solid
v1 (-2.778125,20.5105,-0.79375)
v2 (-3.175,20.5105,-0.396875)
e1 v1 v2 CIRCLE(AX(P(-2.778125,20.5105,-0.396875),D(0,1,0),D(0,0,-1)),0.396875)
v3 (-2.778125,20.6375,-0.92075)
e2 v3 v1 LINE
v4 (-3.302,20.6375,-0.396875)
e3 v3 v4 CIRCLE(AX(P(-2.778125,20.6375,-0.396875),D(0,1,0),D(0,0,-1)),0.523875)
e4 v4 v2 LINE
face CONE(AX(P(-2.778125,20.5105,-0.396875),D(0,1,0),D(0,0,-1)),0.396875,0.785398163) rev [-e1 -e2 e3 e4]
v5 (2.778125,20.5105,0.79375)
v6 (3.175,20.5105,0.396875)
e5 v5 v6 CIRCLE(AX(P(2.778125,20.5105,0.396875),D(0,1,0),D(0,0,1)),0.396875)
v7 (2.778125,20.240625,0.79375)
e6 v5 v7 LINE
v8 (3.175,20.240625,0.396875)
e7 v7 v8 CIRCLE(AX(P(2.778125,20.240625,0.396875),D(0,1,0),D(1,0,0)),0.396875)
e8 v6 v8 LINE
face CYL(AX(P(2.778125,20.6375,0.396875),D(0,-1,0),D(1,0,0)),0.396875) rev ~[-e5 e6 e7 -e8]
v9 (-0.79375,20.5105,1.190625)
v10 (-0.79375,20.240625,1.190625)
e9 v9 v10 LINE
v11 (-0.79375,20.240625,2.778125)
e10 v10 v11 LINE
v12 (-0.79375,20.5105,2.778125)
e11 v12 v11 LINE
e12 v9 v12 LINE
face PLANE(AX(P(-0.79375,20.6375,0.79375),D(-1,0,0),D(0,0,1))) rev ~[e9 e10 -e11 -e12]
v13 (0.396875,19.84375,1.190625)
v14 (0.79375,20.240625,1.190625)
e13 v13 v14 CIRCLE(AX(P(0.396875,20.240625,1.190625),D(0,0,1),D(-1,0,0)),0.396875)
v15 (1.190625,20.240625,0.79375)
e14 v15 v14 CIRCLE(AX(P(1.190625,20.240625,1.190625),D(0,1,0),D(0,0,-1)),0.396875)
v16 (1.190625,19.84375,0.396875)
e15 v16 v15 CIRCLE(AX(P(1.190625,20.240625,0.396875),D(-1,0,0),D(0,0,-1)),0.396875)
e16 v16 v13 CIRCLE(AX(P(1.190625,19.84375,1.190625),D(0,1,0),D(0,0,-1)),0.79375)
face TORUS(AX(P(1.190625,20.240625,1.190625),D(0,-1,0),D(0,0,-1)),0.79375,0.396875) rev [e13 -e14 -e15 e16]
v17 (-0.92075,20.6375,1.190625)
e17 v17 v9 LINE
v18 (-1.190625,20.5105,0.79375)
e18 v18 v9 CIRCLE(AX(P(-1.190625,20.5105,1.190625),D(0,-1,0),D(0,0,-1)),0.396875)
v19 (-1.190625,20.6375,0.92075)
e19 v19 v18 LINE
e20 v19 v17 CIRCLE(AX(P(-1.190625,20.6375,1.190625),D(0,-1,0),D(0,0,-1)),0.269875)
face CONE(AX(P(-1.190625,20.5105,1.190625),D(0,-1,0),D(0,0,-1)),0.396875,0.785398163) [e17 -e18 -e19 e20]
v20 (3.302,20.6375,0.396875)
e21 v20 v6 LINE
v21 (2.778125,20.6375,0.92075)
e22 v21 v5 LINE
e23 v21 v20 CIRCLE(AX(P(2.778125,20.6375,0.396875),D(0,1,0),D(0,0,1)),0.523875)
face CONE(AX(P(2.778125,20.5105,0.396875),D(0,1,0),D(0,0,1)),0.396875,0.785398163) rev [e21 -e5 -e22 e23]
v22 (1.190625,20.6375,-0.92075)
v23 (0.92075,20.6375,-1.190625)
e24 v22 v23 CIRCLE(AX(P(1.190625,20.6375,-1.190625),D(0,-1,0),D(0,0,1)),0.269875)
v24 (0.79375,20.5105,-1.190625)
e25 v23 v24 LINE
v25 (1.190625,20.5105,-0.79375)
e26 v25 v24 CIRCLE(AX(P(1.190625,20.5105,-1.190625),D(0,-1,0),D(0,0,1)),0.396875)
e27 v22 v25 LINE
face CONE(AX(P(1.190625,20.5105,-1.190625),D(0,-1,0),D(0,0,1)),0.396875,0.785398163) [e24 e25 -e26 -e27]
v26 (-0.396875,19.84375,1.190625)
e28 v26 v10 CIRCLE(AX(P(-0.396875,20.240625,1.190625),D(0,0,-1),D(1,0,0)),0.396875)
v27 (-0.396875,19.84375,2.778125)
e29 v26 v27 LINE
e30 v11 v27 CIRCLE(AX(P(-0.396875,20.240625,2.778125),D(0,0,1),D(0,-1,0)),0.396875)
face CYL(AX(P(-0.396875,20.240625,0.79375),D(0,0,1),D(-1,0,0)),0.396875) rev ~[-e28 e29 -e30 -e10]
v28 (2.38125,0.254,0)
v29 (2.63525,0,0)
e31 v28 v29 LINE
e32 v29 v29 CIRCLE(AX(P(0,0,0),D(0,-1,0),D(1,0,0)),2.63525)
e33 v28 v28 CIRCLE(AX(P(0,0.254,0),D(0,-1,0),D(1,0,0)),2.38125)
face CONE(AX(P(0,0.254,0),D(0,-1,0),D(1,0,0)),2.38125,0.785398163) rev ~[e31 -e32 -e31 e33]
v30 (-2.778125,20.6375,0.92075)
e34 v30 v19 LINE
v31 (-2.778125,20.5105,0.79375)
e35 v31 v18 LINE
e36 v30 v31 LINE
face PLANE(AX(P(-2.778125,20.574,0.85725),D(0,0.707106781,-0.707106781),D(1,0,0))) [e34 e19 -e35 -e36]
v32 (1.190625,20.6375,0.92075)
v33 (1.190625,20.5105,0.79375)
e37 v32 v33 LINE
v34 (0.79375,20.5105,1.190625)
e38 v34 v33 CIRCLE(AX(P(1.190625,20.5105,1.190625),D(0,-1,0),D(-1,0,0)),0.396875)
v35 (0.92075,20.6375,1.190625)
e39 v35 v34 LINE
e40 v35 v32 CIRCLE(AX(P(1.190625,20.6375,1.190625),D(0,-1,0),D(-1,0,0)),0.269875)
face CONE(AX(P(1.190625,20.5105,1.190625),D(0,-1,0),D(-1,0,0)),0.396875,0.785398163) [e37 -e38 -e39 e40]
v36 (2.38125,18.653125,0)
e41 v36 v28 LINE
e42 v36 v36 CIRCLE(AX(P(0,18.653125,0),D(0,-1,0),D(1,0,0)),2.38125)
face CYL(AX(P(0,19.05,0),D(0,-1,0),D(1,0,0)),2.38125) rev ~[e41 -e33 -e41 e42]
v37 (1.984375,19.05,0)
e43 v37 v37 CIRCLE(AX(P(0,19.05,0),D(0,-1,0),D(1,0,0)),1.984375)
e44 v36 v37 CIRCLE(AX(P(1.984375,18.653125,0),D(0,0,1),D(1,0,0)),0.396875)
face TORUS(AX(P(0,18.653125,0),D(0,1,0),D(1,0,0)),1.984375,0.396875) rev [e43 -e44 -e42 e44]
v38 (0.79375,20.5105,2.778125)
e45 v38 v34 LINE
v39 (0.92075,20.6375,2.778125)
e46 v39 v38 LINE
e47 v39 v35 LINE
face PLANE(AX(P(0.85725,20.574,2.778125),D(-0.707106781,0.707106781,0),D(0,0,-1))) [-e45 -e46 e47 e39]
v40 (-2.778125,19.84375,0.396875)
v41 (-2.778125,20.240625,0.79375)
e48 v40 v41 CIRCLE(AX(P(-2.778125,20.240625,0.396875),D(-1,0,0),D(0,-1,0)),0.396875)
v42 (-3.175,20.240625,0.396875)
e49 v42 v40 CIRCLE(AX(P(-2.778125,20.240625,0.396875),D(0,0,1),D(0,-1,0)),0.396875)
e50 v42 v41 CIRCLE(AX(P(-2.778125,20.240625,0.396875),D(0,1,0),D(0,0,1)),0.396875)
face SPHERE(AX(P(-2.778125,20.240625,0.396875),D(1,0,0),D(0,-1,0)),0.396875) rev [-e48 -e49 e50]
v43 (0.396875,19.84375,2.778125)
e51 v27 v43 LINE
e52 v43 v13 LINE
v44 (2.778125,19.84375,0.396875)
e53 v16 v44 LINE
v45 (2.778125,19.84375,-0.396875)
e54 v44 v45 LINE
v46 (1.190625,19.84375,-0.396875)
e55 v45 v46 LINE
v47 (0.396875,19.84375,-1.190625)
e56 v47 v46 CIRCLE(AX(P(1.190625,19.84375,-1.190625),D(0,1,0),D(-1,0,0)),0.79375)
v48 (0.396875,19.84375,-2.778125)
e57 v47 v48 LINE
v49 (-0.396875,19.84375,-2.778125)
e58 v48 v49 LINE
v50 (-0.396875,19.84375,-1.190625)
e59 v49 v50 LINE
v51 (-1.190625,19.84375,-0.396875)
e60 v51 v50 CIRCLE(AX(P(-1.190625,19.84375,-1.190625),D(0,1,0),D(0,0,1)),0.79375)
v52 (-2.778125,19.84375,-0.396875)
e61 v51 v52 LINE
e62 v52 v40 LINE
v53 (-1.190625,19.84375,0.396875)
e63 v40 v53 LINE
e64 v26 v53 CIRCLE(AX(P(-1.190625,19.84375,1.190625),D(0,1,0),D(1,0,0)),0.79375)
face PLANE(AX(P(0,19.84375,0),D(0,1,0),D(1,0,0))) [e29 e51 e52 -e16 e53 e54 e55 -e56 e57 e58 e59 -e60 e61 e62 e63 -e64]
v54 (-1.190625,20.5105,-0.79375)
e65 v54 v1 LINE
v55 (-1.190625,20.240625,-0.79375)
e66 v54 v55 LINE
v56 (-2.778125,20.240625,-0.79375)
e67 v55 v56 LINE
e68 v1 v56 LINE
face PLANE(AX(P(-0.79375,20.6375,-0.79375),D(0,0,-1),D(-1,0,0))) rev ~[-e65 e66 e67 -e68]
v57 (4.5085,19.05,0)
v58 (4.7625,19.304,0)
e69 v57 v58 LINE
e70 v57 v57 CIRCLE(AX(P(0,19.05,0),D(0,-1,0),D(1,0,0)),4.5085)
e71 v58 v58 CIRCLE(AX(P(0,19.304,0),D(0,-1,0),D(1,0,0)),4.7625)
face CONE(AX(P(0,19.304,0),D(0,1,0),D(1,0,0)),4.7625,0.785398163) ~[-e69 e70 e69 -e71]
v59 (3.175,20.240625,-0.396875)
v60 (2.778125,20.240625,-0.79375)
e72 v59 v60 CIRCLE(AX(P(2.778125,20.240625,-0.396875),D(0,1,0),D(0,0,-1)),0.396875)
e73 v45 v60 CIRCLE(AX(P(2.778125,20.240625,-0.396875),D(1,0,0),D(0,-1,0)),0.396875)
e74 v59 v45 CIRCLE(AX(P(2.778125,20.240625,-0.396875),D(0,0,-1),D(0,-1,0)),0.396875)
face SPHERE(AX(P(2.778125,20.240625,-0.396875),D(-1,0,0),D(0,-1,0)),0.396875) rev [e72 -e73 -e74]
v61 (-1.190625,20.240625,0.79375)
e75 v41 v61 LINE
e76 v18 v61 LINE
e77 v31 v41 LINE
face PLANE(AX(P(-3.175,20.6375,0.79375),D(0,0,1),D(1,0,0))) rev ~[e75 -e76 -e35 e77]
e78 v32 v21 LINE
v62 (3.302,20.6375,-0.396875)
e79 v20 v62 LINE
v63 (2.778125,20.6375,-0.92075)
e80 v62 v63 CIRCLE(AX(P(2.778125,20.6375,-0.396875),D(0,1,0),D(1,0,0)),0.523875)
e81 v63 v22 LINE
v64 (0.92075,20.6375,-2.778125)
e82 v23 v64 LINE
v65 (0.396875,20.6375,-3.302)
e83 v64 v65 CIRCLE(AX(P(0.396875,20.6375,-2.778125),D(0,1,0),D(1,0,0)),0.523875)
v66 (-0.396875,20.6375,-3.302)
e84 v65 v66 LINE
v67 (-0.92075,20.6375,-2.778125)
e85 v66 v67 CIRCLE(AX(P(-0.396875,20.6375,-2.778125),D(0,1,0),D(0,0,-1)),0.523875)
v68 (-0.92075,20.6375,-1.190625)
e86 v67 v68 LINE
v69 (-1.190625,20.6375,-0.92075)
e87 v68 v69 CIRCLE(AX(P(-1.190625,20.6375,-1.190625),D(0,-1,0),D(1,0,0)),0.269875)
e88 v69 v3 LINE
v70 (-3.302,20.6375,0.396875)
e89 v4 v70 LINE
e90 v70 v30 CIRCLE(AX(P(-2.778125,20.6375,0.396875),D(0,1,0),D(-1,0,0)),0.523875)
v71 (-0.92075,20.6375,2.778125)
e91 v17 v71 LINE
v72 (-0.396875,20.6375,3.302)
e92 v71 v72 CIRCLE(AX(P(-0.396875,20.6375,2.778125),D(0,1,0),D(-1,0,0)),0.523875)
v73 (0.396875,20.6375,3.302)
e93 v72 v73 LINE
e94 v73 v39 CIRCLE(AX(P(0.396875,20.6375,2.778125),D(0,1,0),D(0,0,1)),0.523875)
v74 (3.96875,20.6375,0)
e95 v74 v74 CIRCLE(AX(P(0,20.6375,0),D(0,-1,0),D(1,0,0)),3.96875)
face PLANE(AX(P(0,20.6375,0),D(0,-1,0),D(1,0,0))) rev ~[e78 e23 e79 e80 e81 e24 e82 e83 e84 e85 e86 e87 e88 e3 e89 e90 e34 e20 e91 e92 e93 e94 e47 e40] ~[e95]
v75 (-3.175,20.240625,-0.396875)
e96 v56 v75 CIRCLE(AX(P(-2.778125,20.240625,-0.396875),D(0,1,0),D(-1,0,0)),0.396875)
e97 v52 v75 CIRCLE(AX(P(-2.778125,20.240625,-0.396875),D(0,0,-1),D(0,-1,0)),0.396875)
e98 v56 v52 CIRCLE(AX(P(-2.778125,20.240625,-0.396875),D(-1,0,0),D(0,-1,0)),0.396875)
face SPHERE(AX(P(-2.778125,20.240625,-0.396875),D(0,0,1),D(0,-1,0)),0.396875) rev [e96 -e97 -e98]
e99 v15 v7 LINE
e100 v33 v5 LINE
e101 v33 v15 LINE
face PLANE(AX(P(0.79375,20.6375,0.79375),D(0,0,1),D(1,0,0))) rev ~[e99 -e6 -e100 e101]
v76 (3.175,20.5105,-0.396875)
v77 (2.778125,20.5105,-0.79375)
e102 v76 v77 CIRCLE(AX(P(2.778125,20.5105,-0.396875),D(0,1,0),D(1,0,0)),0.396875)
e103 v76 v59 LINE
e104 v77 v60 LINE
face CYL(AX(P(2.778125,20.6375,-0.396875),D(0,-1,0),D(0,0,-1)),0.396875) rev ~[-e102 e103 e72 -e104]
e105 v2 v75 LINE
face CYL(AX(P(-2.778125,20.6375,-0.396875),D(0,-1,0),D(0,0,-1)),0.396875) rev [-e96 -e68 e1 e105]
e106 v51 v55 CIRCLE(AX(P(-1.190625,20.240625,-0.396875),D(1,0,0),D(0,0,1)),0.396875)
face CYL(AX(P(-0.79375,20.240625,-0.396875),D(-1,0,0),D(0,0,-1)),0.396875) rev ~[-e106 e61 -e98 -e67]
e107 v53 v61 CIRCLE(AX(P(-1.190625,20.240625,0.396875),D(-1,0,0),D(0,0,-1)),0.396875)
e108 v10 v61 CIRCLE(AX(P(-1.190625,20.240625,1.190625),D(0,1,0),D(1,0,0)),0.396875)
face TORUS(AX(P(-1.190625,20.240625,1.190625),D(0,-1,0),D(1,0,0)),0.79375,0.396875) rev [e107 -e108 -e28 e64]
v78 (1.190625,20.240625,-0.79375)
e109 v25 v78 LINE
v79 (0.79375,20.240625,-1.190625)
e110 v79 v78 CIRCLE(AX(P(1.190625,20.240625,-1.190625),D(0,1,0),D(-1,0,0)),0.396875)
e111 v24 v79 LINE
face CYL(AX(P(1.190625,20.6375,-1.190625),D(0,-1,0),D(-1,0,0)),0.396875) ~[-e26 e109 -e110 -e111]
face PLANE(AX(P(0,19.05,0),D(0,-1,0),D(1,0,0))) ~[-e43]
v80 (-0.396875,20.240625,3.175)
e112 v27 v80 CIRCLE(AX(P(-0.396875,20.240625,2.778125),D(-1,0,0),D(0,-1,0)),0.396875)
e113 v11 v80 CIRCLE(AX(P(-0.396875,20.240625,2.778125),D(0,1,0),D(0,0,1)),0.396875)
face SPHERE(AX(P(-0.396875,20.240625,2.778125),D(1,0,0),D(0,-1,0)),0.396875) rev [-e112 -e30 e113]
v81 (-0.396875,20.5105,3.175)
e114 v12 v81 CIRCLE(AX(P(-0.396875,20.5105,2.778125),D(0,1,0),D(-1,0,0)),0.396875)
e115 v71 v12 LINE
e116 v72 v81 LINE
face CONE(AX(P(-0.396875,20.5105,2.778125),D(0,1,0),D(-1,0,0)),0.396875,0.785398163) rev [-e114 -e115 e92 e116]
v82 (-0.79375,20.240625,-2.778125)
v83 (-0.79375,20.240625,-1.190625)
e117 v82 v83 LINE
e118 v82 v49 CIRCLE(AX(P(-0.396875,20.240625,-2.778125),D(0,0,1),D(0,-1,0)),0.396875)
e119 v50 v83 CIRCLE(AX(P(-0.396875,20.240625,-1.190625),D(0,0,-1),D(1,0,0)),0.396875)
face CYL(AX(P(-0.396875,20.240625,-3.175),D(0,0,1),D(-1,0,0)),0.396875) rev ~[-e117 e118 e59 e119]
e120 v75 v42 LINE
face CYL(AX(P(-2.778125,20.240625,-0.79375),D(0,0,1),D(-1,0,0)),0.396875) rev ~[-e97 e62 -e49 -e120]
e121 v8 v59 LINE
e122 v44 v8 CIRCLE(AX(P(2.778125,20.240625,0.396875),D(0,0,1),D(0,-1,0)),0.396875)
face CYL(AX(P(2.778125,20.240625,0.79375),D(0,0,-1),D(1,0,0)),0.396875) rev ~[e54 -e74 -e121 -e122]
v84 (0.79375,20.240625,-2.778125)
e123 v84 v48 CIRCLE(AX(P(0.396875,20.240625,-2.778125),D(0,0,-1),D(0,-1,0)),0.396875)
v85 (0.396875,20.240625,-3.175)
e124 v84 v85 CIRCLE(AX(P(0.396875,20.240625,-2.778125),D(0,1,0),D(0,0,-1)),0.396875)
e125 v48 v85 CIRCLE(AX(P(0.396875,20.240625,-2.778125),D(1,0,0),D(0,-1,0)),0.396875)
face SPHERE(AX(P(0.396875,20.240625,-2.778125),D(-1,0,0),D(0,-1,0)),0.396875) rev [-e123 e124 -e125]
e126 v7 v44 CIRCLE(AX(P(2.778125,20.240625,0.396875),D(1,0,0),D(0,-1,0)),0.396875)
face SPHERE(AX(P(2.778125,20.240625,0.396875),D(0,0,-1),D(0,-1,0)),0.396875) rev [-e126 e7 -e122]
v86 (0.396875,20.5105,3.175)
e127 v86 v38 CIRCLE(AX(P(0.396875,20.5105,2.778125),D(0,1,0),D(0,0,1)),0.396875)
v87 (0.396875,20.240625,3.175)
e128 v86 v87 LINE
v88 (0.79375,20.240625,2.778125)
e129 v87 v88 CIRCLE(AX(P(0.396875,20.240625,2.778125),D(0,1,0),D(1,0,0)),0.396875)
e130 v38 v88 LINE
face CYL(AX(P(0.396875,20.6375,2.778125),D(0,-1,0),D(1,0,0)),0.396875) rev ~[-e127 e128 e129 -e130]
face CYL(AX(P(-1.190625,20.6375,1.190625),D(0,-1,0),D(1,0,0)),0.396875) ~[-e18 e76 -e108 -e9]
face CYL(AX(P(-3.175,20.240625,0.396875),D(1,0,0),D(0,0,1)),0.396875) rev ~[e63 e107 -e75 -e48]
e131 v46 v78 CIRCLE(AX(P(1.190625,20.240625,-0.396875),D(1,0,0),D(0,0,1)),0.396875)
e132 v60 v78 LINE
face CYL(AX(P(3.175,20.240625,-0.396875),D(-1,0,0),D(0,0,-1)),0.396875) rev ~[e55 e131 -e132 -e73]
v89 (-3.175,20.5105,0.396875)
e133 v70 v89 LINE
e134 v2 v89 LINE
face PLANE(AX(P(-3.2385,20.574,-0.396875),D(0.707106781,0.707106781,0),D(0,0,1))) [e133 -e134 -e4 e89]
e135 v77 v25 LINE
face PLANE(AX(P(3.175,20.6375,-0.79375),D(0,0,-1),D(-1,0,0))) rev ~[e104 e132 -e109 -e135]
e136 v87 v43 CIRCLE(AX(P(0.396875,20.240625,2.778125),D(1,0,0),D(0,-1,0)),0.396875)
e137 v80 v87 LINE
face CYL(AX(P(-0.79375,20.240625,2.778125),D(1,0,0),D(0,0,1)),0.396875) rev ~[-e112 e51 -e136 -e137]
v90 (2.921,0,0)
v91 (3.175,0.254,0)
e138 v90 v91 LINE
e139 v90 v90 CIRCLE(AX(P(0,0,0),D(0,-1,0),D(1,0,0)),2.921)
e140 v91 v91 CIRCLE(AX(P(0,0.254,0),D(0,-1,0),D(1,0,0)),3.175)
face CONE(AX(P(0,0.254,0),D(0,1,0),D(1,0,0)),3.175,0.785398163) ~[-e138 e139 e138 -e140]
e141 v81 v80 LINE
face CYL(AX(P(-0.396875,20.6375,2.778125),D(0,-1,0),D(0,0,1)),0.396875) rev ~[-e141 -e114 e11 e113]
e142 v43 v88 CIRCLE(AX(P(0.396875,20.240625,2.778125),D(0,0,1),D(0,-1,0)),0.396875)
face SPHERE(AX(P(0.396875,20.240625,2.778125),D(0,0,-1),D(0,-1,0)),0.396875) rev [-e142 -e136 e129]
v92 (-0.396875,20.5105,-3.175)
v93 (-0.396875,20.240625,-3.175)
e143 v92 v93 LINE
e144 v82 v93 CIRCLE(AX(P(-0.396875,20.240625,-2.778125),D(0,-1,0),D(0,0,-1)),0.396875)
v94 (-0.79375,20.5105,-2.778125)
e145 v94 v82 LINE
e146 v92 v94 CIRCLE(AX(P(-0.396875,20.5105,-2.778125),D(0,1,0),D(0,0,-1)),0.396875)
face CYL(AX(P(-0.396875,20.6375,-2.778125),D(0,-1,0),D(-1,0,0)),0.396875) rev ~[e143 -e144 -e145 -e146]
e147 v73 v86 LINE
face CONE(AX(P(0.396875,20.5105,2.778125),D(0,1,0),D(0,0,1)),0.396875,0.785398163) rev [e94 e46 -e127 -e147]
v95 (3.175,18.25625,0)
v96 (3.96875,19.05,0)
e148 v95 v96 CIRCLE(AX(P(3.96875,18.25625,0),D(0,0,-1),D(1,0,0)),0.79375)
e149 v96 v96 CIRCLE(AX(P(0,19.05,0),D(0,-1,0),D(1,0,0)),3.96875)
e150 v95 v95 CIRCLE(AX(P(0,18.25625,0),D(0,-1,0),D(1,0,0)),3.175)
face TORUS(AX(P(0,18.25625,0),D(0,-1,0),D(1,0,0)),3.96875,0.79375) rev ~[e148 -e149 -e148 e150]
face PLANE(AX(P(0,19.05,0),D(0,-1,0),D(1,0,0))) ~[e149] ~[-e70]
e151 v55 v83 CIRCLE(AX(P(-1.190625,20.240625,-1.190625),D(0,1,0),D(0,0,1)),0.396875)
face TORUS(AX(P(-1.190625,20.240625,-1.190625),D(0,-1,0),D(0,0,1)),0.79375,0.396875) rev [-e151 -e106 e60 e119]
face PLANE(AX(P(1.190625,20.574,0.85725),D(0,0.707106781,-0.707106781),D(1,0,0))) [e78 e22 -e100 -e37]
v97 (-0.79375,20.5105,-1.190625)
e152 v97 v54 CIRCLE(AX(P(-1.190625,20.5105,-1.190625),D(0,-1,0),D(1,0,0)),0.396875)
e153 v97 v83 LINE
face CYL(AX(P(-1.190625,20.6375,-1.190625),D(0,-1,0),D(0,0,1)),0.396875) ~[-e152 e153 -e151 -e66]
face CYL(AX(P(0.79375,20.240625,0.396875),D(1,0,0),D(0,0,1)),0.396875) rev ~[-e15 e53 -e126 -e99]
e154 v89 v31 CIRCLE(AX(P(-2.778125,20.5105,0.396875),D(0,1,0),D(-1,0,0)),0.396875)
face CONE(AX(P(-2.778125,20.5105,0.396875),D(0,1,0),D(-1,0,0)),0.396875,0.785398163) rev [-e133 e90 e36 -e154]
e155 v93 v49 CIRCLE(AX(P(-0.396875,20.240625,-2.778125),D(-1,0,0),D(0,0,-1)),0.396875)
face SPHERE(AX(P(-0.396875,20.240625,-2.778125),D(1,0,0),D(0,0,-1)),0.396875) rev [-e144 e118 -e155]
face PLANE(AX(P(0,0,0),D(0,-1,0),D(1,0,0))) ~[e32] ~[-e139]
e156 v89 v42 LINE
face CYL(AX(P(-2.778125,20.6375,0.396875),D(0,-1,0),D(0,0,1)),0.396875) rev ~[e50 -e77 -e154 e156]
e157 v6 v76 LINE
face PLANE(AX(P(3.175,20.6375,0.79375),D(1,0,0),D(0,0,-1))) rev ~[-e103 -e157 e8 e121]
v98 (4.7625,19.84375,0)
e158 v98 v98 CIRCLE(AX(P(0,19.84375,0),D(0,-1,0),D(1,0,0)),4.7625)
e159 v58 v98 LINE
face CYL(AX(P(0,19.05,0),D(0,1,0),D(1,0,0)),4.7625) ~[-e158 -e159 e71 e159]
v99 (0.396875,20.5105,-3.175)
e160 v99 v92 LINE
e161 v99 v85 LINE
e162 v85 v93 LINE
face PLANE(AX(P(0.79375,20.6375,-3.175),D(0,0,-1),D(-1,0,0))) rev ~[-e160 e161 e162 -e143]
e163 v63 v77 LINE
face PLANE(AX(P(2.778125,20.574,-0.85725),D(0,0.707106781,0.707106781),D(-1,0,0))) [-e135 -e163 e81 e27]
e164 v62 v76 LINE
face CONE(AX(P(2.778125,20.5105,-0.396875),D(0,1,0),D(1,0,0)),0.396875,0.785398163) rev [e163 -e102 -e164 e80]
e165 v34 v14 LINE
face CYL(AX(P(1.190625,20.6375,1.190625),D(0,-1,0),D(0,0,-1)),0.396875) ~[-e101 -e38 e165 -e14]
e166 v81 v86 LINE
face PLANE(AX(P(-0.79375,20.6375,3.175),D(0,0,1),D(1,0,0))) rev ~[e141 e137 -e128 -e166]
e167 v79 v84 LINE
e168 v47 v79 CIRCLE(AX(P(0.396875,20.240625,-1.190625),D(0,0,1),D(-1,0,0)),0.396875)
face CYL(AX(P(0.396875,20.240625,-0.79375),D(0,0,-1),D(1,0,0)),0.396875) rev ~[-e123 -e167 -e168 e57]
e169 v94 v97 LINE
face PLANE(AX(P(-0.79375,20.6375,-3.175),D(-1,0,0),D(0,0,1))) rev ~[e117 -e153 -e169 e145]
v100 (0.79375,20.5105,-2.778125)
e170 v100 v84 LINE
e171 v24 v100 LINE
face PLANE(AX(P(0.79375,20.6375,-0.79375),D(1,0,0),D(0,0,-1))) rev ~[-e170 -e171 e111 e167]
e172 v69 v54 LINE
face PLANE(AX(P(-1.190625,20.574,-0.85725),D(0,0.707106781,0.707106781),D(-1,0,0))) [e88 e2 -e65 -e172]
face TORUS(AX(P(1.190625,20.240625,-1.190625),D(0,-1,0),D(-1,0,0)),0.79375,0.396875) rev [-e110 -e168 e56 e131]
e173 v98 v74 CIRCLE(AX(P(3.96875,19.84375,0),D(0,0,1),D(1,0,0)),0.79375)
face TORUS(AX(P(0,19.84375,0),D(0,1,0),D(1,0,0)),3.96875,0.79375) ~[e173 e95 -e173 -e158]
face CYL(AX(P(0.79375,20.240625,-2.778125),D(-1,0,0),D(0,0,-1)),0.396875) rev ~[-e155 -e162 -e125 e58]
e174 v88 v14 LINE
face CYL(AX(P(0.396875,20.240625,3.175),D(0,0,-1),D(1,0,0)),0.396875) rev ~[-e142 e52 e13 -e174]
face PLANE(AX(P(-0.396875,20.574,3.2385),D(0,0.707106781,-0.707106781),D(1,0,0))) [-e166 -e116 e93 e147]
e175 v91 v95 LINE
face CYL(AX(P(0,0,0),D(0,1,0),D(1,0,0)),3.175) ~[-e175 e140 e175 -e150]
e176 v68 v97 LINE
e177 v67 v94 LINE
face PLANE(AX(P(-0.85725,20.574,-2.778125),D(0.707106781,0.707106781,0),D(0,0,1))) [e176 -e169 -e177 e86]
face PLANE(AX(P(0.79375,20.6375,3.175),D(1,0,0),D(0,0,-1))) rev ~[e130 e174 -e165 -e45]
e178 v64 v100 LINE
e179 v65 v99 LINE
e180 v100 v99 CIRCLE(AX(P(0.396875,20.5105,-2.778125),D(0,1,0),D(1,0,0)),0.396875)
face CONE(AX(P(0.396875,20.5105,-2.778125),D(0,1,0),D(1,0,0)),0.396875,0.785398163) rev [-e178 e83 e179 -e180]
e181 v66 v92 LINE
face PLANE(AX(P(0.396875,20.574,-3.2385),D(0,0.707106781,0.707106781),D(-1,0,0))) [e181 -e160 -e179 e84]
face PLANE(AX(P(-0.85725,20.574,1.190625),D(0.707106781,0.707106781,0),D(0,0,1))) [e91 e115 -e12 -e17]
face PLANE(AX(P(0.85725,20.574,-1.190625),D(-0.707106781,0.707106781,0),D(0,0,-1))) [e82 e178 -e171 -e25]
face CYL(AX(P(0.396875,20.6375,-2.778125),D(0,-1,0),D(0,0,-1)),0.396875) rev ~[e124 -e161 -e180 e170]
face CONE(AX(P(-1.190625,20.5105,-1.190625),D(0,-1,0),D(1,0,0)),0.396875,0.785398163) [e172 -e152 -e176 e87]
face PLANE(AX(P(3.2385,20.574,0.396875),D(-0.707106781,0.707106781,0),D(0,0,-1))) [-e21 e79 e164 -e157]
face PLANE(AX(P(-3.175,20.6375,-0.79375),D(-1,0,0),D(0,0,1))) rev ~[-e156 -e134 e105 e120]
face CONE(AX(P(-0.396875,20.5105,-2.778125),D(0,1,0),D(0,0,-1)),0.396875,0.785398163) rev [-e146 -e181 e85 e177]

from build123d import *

# Parameters (mm, degrees)
CUT_EXTRUDE1_DEPTH = 0.79375
FILLET1_R          = 0.79375
FILLET2_R          = 0.396875
CHAMFER1_SIZE      = 0.254
CHAMFER2_SIZE      = 0.127


with BuildPart() as part:
    # Sketch1 → Revolve1 (revolve)
    with BuildSketch(Plane.XY):
        Polygon((2.38125, 0), (3.175, 0), (3.175, 19.05), (4.7625, 19.05), (4.7625, 20.6375), (0, 20.6375), (0, 19.05), (2.38125, 19.05), align=None)
    revolve(axis=Axis((0, 3.655427632, 0), (0, -1, 0)))

    # Sketch2 → Cut-Extrude1 (cut)
    with BuildSketch(Plane(origin=(0, 20.6375, 0), x_dir=(1, 0, 0), z_dir=(0, 1, 0))):
        Polygon((-3.175, 0.79375), (-3.175, -0.79375), (-0.79375, -0.79375), (-0.79375, -3.175), (0.79375, -3.175), (0.79375, -0.79375), (3.175, -0.79375), (3.175, 0.79375), (0.79375, 0.79375), (0.79375, 3.175), (-0.79375, 3.175), (-0.79375, 0.79375), align=None)
    extrude(amount=-CUT_EXTRUDE1_DEPTH, mode=Mode.SUBTRACT)

    # Fillet1
    fillet1_edges = [part.edges().sort_by_distance(p)[0] for p in [
        (-4.7625, 20.6375, 0),
        (-3.175, 19.05, 0),
    ]]
    fillet(fillet1_edges, radius=FILLET1_R)

    # Fillet2
    fillet2_edges = [part.edges().sort_by_distance(p)[0] for p in [
        (0, 19.84375, -3.175),
        (-0.79375, 20.240625, -3.175),
        (0.79375, 19.84375, -1.984375),
        (0.79375, 20.240625, -3.175),
        (1.984375, 19.84375, -0.79375),
        (0.79375, 20.240625, -0.79375),
        (3.175, 19.84375, 0),
        (3.175, 20.240625, -0.79375),
        (1.984375, 19.84375, 0.79375),
        (3.175, 20.240625, 0.79375),
        (0.79375, 19.84375, 1.984375),
        (0.79375, 20.240625, 0.79375),
        (0, 19.84375, 3.175),
        (0.79375, 20.240625, 3.175),
        (-0.79375, 19.84375, 1.984375),
        (-0.79375, 20.240625, 3.175),
        (-1.984375, 19.84375, 0.79375),
        (-0.79375, 20.240625, 0.79375),
        (-3.175, 19.84375, 0),
        (-3.175, 20.240625, 0.79375),
        (-1.984375, 19.84375, -0.79375),
        (-3.175, 20.240625, -0.79375),
        (-0.79375, 19.84375, -1.984375),
        (-0.79375, 20.240625, -0.79375),
        (-2.38125, 19.05, 0),
    ]]
    fillet(fillet2_edges, radius=FILLET2_R)

    # Chamfer1
    chamfer1_edges = [part.edges().sort_by_distance(p)[0] for p in [
        (-4.7625, 19.05, 0),
        (-3.175, 0, 0),
        (-2.38125, 0, 0),
    ]]
    chamfer(chamfer1_edges, length=CHAMFER1_SIZE)

    # Chamfer2
    chamfer2_edges = [part.edges().sort_by_distance(p)[0] for p in [
        (0, 20.6375, -3.175),
        (-0.79375, 20.6375, -1.984375),
        (-3.175, 20.6375, 0),
        (-1.984375, 20.6375, 0.79375),
        (-0.79375, 20.6375, 1.984375),
        (0, 20.6375, 3.175),
        (0.79375, 20.6375, 1.984375),
        (1.984375, 20.6375, 0.79375),
        (3.175, 20.6375, 0),
        (1.984375, 20.6375, -0.79375),
        (0.79375, 20.6375, -1.984375),
        (-1.984375, 20.6375, -0.79375),
        (0.909991996, 20.6375, -0.909991996),
        (0.909991996, 20.6375, 0.909991996),
        (-0.909991996, 20.6375, 0.909991996),
        (-0.909991996, 20.6375, -0.909991996),
        (-0.677508004, 20.6375, -3.058758004),
        (-3.058758004, 20.6375, -0.677508004),
        (-3.058758004, 20.6375, 0.677508004),
        (-0.677508004, 20.6375, 3.058758004),
        (0.677508004, 20.6375, 3.058758004),
        (3.058758004, 20.6375, 0.677508004),
        (3.058758004, 20.6375, -0.677508004),
        (0.677508004, 20.6375, -3.058758004),
    ]]
    chamfer(chamfer2_edges, length=CHAMFER2_SIZE)


solid = part.part
